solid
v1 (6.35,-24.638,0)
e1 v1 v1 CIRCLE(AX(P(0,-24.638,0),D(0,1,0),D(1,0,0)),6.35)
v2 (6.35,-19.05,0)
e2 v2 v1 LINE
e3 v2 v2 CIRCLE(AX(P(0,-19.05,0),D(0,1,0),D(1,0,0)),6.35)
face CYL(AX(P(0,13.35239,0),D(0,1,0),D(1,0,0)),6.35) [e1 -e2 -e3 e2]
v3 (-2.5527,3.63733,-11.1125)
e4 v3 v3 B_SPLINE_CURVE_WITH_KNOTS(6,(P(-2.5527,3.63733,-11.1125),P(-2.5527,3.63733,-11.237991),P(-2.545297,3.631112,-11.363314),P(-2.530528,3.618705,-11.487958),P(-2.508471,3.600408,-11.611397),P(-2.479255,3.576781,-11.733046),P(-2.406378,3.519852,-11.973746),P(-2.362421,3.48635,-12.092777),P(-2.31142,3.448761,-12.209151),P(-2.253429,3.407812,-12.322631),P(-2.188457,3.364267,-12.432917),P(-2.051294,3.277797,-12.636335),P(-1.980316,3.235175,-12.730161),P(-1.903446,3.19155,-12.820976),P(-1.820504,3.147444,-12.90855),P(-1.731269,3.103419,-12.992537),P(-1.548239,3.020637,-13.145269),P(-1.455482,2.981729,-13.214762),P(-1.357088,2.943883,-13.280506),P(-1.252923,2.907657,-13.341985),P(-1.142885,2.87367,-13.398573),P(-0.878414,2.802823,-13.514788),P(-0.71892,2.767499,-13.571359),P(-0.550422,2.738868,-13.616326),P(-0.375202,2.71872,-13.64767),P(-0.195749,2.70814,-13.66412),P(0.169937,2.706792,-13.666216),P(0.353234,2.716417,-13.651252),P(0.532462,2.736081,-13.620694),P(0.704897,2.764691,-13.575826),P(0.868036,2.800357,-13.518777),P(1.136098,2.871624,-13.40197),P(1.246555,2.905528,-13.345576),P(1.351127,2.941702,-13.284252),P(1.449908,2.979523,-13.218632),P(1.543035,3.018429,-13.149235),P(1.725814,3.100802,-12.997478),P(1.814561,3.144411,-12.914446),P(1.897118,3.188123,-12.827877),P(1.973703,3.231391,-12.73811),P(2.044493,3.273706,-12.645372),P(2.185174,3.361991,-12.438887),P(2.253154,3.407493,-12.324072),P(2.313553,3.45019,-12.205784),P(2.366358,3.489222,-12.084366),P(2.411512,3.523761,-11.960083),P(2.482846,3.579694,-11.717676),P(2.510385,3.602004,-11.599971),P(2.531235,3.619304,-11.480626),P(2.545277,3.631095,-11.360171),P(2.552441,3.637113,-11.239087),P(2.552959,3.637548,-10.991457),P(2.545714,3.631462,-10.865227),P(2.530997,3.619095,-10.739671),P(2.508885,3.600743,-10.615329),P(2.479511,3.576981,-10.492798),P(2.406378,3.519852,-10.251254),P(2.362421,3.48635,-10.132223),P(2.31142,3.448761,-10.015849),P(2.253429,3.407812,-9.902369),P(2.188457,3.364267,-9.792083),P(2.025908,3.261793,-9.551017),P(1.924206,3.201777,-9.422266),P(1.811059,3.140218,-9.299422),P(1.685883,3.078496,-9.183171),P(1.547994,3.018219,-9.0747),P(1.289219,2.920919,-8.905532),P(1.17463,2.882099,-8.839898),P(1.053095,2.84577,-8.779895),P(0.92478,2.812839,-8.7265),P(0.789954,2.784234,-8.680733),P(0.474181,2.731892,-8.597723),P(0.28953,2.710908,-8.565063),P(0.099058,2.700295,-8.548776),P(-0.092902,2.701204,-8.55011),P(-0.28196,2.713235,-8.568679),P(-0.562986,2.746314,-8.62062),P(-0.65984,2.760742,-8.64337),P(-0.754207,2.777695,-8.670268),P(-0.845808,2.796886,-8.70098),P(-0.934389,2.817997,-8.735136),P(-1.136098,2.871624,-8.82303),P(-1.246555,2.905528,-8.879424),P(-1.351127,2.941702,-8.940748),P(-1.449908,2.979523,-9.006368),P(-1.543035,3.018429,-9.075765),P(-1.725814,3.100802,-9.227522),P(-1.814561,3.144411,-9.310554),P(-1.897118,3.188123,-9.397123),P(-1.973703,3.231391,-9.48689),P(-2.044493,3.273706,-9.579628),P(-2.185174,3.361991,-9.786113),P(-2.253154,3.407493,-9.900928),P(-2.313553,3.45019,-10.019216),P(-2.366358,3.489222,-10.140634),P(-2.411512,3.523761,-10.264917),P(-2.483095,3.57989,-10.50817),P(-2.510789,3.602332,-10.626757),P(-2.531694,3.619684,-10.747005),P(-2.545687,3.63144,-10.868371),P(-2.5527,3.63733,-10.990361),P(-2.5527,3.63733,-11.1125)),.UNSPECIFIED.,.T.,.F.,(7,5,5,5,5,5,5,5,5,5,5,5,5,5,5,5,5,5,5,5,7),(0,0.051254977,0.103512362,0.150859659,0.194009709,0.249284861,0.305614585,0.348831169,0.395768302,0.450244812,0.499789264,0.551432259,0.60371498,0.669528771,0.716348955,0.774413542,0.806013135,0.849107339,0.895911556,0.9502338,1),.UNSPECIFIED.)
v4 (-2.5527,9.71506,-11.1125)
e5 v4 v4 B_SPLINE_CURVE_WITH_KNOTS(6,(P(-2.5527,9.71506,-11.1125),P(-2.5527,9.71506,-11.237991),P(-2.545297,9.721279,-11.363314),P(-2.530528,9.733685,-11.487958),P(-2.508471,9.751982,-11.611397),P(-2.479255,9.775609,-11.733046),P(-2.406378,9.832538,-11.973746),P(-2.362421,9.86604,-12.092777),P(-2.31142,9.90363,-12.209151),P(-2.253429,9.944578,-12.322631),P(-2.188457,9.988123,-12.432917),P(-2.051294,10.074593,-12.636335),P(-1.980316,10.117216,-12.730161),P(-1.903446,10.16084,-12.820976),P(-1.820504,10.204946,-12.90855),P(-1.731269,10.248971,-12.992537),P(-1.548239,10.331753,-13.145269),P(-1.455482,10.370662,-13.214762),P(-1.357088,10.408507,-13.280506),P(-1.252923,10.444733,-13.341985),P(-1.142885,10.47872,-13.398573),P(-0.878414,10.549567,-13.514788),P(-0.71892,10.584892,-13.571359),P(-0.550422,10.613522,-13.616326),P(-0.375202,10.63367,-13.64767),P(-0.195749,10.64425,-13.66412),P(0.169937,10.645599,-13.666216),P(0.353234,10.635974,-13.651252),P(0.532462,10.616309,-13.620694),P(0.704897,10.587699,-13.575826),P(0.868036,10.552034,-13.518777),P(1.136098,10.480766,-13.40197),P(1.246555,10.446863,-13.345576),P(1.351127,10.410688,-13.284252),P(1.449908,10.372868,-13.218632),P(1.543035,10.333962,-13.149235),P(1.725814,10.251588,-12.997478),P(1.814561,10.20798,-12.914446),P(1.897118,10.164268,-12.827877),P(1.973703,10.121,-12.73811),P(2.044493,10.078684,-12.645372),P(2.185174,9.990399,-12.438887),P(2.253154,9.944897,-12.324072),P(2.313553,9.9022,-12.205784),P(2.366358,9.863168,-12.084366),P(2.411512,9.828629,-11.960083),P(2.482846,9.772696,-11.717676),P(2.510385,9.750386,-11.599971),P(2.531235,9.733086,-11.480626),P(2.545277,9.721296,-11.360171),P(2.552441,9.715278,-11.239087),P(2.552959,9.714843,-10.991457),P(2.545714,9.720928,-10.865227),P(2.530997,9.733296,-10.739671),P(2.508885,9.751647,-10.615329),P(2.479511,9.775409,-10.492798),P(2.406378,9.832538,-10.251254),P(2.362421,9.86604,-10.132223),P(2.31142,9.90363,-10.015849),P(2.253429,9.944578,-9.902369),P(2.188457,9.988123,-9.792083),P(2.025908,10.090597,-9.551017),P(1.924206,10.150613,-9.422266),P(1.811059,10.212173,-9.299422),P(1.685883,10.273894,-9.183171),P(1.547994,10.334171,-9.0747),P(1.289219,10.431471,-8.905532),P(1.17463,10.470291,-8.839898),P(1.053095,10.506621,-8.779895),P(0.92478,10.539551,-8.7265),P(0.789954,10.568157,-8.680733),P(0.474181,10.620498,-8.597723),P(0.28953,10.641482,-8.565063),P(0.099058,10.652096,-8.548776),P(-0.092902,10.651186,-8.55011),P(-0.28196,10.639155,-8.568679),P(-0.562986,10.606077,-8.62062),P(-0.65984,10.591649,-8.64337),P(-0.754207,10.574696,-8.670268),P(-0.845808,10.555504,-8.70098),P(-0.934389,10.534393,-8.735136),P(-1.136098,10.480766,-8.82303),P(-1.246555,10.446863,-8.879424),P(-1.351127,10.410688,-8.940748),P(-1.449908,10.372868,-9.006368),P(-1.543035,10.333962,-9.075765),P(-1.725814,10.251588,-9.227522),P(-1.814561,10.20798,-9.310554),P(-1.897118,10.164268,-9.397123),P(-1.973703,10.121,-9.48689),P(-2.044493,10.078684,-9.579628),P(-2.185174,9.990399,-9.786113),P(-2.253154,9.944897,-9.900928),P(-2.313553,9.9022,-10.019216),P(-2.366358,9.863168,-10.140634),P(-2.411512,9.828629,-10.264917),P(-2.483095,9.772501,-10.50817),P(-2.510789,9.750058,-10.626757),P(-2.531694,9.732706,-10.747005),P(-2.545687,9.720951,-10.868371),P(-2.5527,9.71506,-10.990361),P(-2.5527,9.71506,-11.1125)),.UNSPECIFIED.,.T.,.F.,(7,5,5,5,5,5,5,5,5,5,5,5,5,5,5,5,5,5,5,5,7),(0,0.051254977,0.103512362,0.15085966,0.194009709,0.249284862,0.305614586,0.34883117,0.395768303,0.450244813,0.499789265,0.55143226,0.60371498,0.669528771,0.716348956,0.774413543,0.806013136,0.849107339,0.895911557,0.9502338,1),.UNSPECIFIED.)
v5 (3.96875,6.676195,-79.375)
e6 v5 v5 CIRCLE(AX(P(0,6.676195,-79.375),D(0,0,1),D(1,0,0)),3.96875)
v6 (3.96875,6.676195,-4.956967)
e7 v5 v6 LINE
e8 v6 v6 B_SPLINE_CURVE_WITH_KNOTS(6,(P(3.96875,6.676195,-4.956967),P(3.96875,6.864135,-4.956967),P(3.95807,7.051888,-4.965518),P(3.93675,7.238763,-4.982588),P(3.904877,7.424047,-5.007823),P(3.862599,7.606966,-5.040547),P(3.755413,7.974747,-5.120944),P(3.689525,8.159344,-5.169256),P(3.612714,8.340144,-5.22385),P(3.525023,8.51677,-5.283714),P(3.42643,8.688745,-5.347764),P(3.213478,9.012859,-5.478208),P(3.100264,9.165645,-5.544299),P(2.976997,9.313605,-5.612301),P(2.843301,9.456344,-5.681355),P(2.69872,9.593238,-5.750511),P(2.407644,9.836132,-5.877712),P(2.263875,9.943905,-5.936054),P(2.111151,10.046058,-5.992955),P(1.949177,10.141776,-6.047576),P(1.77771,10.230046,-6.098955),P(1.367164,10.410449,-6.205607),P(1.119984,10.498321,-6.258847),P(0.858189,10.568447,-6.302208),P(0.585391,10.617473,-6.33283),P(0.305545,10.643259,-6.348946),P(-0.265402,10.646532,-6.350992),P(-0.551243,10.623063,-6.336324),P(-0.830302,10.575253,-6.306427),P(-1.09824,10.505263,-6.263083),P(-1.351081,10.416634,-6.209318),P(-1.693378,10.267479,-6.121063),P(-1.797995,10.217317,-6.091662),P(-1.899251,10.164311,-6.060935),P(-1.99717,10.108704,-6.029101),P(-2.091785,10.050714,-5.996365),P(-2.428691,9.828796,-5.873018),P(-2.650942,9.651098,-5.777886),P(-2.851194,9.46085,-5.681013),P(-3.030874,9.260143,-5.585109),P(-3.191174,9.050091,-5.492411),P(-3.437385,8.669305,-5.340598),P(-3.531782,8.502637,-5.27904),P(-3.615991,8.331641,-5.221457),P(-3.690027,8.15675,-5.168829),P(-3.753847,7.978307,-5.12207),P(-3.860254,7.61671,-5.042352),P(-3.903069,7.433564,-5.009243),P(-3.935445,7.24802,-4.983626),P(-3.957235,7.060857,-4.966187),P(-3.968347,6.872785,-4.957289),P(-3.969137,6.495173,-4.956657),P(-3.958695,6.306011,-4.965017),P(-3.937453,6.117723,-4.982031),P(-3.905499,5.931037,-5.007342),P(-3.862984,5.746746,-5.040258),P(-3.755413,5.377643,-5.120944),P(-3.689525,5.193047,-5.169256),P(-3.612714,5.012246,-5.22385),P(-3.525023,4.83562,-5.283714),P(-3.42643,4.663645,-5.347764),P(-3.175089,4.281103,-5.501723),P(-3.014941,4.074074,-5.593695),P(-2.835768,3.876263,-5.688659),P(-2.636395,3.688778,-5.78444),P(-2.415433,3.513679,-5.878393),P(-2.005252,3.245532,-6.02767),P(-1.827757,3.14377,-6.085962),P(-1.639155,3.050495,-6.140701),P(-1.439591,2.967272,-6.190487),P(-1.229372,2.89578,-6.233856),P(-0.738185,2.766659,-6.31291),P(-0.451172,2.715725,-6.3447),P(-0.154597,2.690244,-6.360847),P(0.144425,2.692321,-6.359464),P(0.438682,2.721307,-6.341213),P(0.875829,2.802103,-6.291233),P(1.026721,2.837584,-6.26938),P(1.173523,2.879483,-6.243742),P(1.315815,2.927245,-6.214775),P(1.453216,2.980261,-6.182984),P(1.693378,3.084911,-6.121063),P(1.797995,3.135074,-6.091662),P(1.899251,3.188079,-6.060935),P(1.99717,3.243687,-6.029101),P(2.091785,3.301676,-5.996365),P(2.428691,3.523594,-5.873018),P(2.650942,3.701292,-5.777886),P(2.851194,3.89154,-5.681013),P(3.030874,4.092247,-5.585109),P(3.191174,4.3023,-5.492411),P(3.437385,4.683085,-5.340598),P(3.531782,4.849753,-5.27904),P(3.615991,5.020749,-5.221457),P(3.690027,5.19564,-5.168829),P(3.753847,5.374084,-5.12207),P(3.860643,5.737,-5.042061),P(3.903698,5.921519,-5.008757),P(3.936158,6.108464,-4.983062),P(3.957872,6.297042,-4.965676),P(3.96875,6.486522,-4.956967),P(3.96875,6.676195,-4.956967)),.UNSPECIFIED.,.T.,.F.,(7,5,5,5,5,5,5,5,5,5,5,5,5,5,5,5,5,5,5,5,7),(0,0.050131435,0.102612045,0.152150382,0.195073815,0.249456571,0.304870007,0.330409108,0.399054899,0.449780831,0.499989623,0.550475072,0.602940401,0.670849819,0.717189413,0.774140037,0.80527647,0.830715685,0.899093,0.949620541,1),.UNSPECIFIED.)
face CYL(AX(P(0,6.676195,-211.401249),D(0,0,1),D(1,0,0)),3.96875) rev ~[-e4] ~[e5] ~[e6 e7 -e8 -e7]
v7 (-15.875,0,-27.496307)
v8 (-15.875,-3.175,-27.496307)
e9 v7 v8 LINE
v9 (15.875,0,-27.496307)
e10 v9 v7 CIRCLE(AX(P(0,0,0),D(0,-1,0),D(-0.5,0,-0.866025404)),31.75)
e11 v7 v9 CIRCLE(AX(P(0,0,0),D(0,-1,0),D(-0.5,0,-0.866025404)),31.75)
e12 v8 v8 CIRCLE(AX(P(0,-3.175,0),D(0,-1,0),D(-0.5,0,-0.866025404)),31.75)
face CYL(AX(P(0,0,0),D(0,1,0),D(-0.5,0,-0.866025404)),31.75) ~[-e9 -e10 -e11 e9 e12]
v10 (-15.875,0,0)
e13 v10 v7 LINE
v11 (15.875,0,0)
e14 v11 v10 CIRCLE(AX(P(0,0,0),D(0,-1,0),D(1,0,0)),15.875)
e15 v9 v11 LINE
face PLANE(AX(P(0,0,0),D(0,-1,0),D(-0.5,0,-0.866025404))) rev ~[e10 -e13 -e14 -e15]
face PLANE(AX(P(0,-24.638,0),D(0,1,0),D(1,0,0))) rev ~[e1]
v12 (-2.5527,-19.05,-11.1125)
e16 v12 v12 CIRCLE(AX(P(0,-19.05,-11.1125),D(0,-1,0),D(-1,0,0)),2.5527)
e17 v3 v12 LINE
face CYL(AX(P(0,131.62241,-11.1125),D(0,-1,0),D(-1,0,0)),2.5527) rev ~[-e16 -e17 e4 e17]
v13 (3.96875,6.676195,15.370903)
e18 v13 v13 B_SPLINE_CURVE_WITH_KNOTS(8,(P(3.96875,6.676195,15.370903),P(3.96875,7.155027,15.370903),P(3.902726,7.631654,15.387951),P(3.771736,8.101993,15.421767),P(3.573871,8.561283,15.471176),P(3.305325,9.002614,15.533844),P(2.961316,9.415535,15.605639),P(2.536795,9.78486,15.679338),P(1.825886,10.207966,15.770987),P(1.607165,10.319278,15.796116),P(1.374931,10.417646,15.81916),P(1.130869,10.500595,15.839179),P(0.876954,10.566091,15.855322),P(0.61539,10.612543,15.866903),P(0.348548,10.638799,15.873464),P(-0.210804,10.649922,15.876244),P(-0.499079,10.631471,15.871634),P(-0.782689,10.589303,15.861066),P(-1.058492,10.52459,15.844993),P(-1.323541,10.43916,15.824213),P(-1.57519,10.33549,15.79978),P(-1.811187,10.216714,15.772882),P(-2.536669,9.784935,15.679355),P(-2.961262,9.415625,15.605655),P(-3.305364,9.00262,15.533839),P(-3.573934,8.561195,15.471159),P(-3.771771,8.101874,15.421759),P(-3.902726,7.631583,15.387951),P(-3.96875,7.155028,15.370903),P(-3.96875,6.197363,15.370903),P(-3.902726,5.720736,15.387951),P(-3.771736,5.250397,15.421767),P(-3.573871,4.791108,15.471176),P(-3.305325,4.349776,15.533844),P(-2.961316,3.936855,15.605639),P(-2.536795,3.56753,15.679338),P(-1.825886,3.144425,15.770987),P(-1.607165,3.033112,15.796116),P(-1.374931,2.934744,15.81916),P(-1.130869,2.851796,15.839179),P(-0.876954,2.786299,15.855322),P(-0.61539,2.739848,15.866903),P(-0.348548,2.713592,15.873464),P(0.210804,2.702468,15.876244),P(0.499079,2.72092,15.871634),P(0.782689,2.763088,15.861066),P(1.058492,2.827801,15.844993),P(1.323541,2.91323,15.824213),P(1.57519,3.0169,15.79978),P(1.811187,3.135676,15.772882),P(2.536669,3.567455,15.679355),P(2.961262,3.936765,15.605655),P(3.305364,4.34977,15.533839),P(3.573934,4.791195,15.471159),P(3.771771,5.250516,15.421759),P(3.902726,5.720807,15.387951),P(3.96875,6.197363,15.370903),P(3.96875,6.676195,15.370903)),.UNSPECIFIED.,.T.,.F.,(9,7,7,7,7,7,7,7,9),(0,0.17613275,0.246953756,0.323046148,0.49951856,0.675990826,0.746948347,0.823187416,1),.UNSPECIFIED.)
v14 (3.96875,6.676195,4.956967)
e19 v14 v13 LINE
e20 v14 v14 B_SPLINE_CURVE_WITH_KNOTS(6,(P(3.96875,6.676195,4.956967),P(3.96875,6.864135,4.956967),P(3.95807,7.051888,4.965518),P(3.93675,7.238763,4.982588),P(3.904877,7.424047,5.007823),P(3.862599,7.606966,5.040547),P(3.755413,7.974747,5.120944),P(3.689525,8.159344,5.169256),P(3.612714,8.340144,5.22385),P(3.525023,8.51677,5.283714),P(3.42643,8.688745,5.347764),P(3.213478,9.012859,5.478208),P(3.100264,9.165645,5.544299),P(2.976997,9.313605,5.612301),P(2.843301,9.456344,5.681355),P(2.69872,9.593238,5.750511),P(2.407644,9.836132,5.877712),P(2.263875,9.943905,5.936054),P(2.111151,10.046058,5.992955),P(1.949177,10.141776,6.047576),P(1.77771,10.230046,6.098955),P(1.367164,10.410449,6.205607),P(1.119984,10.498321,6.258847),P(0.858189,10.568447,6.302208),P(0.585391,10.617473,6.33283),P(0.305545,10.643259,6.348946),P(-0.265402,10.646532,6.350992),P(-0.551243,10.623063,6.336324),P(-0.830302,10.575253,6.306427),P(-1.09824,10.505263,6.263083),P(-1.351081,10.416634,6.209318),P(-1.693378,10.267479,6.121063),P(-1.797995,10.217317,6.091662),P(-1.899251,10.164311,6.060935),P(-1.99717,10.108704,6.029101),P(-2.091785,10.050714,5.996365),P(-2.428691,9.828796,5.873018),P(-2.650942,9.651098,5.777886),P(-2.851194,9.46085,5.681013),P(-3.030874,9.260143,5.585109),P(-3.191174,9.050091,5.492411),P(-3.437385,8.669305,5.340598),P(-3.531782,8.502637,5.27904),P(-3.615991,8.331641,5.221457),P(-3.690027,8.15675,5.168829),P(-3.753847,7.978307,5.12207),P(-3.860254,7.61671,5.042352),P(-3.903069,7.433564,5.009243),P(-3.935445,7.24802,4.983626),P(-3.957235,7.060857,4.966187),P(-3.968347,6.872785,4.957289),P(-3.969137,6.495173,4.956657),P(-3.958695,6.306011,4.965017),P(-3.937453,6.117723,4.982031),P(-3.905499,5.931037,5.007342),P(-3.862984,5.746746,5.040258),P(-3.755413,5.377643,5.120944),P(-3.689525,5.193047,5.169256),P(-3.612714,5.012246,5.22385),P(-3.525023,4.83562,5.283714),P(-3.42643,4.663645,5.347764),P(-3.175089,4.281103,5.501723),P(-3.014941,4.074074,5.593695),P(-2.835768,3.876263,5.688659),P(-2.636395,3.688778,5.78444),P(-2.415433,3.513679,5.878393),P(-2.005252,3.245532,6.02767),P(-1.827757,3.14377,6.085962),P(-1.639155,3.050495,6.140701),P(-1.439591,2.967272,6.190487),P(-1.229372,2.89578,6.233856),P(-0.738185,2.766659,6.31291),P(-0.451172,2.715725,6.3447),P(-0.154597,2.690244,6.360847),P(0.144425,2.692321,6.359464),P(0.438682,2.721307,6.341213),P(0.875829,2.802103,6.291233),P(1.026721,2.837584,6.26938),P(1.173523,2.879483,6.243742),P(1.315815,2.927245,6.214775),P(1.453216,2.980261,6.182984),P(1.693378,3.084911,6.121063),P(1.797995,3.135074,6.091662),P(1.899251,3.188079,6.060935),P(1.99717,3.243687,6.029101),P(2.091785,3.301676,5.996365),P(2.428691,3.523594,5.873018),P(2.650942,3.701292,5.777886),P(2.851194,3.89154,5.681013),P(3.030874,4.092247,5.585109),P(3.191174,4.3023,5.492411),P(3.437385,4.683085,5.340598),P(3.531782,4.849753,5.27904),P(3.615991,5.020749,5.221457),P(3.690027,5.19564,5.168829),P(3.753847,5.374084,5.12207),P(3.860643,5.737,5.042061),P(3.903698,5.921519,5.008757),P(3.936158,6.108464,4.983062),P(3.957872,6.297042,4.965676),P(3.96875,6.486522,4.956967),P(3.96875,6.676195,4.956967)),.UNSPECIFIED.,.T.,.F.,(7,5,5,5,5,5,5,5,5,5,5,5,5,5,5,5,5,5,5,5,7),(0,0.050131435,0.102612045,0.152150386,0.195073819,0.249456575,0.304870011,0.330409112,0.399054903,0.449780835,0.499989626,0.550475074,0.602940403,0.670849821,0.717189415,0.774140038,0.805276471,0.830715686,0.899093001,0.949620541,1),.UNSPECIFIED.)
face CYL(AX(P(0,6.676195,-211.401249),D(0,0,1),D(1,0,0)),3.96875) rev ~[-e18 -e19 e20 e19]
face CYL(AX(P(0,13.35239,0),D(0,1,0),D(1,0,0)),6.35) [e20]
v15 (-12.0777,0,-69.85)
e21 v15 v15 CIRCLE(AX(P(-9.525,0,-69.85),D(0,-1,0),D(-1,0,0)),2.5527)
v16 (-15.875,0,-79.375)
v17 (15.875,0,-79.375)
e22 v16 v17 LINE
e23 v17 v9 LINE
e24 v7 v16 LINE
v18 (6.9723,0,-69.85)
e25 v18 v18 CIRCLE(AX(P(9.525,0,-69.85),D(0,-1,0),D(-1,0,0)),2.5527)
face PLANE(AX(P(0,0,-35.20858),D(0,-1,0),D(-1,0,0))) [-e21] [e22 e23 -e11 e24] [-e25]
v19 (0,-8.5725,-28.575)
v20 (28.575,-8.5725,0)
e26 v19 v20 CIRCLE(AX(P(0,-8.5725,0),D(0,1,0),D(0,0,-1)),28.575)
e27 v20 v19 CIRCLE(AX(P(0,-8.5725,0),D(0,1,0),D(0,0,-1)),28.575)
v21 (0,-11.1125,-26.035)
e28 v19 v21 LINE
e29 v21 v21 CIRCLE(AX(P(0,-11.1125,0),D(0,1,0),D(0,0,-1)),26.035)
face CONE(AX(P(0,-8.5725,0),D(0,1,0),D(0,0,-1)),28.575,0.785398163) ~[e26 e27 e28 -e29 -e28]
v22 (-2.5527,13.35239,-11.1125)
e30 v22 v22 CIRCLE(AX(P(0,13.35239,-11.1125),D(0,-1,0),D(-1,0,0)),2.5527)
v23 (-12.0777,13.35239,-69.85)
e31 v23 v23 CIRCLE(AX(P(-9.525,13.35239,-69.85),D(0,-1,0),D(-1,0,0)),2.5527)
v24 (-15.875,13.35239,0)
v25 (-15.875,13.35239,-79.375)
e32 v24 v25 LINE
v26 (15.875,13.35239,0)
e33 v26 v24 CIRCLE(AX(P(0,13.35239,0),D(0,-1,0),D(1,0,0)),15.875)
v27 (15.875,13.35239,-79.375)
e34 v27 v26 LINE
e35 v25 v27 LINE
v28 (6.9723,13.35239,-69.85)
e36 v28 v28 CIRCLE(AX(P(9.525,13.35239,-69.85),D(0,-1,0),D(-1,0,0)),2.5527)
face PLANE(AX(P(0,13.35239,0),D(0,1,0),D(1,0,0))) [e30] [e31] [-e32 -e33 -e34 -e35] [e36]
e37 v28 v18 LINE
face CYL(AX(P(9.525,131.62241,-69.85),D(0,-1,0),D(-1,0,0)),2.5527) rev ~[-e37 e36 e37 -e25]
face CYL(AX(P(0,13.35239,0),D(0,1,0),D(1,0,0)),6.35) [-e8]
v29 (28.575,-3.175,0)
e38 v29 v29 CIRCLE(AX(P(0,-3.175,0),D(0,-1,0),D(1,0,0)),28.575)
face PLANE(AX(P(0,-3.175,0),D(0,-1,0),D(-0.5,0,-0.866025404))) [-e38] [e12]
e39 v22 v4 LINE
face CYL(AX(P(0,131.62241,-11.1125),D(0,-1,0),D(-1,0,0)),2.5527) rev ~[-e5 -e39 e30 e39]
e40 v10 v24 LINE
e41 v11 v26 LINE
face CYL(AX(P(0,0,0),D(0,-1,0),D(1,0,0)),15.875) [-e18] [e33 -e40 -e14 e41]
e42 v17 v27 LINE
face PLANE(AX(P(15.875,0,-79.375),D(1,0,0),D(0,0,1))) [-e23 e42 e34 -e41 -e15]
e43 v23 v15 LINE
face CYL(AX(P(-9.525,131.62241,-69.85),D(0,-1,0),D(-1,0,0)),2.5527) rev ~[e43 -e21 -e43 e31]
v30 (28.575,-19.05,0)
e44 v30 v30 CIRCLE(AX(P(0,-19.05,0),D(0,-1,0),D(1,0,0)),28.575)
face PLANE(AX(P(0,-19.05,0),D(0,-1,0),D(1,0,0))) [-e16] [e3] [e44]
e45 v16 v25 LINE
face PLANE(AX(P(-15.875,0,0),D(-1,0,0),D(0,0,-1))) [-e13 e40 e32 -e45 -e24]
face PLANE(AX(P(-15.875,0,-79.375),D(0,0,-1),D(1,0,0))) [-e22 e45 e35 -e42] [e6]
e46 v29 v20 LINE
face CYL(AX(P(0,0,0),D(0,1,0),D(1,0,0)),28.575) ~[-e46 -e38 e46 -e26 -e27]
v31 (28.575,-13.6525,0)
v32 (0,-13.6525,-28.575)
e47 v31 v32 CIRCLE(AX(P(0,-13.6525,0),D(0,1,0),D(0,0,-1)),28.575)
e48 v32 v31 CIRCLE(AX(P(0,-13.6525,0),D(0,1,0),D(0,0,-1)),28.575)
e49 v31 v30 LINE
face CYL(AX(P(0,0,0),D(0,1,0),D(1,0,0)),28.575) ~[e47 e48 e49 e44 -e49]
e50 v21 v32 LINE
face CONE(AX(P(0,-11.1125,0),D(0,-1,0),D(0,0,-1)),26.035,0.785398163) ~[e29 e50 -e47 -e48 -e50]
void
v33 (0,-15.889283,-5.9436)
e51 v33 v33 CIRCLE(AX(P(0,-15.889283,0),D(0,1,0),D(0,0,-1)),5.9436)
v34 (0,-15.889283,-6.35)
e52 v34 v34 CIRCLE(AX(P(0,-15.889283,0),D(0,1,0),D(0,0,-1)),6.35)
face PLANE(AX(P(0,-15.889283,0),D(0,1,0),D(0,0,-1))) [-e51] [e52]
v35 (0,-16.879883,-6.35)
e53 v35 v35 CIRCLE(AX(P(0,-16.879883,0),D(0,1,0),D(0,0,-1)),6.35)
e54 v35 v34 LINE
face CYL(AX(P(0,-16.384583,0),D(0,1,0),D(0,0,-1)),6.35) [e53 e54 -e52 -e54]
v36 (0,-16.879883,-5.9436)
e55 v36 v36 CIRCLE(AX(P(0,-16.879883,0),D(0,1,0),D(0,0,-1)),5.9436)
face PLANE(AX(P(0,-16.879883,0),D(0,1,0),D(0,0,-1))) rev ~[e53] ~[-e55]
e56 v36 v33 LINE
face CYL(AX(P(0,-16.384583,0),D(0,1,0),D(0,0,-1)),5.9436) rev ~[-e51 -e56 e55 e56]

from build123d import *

# Parameters (mm, degrees)
BOSS_EXTRUDE1_DEPTH         = 13.352390271
SKETCH4_R                   = 28.575
BOSS_EXTRUDE2_DEPTH         = 19.05
SKETCH5_R                   = 31.75
SKETCH5_R_2                 = 28.575
BOSS_EXTRUDE3_DEPTH         = 3.175
F_3_8_16_TAPPED_HOLE1_D     = 7.9375
F_1_4_20_TAPPED_HOLE2_D     = 5.1054
F_1_4_20_TAPPED_HOLE2_DEPTH = 118.27002
F_1_4_20_TAPPED_HOLE2_TIP   = 1.533816902
SKETCH2_R                   = 6.35
BOSS_EXTRUDE6_DEPTH         = 37.990390271
SKETCH23_W                  = 0.4064
SKETCH23_H                  = 0.9906


with BuildPart() as part:
    # Sketch1 → Boss-Extrude1 (new body)
    with BuildSketch(Plane(origin=(0, 0, 0), x_dir=(1, 0, 0), z_dir=(0, 1, 0))):
        with BuildLine():
            Line((-15.875, 0), (-15.875, 79.375))
            Line((-15.875, 79.375), (15.875, 79.375))
            Line((15.875, 79.375), (15.875, 0))
            ThreePointArc((15.875, 0), (0, -15.875), (-15.875, 0))
        make_face()
    extrude(amount=BOSS_EXTRUDE1_DEPTH)

    # Sketch4 → Boss-Extrude2 (add)
    with BuildSketch(Plane.XZ):
        Circle(SKETCH4_R)
    extrude(amount=BOSS_EXTRUDE2_DEPTH)

    # Sketch5 → Boss-Extrude3 (add)
    with BuildSketch(Plane.XZ):
        with Locations(Location((0, 0, 0), (0, 0, 240))):
            Circle(SKETCH5_R)
        Circle(SKETCH5_R_2, mode=Mode.SUBTRACT)
    extrude(amount=BOSS_EXTRUDE3_DEPTH)

    # 3/8-16 Tapped Hole1 (through all)
    with Locations(Plane(origin=(0, 0, -79.375), x_dir=(-1, 0, 0), z_dir=(0, 0, -1))):
        with Locations((0, 6.676195135)):
            Hole(F_3_8_16_TAPPED_HOLE1_D / 2)

    # 1/4-20 Tapped Hole2
    with Locations(Plane(origin=(0, 13.352390271, 0), x_dir=(1, 0, 0), z_dir=(0, 1, 0))):
        with Locations((-9.525, 69.85), (9.525, 69.85), (0, 11.1125)):
            Hole(F_1_4_20_TAPPED_HOLE2_D / 2, depth=F_1_4_20_TAPPED_HOLE2_DEPTH)
            with Locations((0, 0, -(F_1_4_20_TAPPED_HOLE2_DEPTH + F_1_4_20_TAPPED_HOLE2_TIP / 2))):  # 118° drill point
                Cone(0, F_1_4_20_TAPPED_HOLE2_D / 2, F_1_4_20_TAPPED_HOLE2_TIP, mode=Mode.SUBTRACT)

    # Sketch22 → Cut-Revolve2 (revolve, cut)
    with BuildSketch(Plane.XY, mode=Mode.PRIVATE) as cut_revolve2_sk:
        Polygon((28.575, -8.5725), (26.035, -11.1125), (28.575, -13.6525), align=None)
    revolve(cut_revolve2_sk.sketch.rotate(Axis((0, -19.050000001, 0), (0, 1, 0)), 90), axis=Axis((0, -19.050000001, 0), (0, 1, 0)), mode=Mode.SUBTRACT)

    # Sketch2 → Boss-Extrude6 (add)
    with BuildSketch(Plane(origin=(0, 13.352390271, 0), x_dir=(1, 0, 0), z_dir=(0, 1, 0))):
        Circle(SKETCH2_R)
    extrude(amount=-BOSS_EXTRUDE6_DEPTH)

    # Sketch23 → Cut-Revolve4 (revolve, cut)
    with BuildSketch(Plane(origin=(0, 0, 0), x_dir=(0, 0, -1), z_dir=(1, 0, 0)), mode=Mode.PRIVATE) as cut_revolve4_sk:
        with Locations((-6.1468, -16.384583292)):
            Rectangle(SKETCH23_W, SKETCH23_H)
    revolve(cut_revolve4_sk.sketch.rotate(Axis((0, -24.638, 0), (0, 1, 0)), 180), axis=Axis((0, -24.638, 0), (0, 1, 0)), mode=Mode.SUBTRACT)


solid = part.part
